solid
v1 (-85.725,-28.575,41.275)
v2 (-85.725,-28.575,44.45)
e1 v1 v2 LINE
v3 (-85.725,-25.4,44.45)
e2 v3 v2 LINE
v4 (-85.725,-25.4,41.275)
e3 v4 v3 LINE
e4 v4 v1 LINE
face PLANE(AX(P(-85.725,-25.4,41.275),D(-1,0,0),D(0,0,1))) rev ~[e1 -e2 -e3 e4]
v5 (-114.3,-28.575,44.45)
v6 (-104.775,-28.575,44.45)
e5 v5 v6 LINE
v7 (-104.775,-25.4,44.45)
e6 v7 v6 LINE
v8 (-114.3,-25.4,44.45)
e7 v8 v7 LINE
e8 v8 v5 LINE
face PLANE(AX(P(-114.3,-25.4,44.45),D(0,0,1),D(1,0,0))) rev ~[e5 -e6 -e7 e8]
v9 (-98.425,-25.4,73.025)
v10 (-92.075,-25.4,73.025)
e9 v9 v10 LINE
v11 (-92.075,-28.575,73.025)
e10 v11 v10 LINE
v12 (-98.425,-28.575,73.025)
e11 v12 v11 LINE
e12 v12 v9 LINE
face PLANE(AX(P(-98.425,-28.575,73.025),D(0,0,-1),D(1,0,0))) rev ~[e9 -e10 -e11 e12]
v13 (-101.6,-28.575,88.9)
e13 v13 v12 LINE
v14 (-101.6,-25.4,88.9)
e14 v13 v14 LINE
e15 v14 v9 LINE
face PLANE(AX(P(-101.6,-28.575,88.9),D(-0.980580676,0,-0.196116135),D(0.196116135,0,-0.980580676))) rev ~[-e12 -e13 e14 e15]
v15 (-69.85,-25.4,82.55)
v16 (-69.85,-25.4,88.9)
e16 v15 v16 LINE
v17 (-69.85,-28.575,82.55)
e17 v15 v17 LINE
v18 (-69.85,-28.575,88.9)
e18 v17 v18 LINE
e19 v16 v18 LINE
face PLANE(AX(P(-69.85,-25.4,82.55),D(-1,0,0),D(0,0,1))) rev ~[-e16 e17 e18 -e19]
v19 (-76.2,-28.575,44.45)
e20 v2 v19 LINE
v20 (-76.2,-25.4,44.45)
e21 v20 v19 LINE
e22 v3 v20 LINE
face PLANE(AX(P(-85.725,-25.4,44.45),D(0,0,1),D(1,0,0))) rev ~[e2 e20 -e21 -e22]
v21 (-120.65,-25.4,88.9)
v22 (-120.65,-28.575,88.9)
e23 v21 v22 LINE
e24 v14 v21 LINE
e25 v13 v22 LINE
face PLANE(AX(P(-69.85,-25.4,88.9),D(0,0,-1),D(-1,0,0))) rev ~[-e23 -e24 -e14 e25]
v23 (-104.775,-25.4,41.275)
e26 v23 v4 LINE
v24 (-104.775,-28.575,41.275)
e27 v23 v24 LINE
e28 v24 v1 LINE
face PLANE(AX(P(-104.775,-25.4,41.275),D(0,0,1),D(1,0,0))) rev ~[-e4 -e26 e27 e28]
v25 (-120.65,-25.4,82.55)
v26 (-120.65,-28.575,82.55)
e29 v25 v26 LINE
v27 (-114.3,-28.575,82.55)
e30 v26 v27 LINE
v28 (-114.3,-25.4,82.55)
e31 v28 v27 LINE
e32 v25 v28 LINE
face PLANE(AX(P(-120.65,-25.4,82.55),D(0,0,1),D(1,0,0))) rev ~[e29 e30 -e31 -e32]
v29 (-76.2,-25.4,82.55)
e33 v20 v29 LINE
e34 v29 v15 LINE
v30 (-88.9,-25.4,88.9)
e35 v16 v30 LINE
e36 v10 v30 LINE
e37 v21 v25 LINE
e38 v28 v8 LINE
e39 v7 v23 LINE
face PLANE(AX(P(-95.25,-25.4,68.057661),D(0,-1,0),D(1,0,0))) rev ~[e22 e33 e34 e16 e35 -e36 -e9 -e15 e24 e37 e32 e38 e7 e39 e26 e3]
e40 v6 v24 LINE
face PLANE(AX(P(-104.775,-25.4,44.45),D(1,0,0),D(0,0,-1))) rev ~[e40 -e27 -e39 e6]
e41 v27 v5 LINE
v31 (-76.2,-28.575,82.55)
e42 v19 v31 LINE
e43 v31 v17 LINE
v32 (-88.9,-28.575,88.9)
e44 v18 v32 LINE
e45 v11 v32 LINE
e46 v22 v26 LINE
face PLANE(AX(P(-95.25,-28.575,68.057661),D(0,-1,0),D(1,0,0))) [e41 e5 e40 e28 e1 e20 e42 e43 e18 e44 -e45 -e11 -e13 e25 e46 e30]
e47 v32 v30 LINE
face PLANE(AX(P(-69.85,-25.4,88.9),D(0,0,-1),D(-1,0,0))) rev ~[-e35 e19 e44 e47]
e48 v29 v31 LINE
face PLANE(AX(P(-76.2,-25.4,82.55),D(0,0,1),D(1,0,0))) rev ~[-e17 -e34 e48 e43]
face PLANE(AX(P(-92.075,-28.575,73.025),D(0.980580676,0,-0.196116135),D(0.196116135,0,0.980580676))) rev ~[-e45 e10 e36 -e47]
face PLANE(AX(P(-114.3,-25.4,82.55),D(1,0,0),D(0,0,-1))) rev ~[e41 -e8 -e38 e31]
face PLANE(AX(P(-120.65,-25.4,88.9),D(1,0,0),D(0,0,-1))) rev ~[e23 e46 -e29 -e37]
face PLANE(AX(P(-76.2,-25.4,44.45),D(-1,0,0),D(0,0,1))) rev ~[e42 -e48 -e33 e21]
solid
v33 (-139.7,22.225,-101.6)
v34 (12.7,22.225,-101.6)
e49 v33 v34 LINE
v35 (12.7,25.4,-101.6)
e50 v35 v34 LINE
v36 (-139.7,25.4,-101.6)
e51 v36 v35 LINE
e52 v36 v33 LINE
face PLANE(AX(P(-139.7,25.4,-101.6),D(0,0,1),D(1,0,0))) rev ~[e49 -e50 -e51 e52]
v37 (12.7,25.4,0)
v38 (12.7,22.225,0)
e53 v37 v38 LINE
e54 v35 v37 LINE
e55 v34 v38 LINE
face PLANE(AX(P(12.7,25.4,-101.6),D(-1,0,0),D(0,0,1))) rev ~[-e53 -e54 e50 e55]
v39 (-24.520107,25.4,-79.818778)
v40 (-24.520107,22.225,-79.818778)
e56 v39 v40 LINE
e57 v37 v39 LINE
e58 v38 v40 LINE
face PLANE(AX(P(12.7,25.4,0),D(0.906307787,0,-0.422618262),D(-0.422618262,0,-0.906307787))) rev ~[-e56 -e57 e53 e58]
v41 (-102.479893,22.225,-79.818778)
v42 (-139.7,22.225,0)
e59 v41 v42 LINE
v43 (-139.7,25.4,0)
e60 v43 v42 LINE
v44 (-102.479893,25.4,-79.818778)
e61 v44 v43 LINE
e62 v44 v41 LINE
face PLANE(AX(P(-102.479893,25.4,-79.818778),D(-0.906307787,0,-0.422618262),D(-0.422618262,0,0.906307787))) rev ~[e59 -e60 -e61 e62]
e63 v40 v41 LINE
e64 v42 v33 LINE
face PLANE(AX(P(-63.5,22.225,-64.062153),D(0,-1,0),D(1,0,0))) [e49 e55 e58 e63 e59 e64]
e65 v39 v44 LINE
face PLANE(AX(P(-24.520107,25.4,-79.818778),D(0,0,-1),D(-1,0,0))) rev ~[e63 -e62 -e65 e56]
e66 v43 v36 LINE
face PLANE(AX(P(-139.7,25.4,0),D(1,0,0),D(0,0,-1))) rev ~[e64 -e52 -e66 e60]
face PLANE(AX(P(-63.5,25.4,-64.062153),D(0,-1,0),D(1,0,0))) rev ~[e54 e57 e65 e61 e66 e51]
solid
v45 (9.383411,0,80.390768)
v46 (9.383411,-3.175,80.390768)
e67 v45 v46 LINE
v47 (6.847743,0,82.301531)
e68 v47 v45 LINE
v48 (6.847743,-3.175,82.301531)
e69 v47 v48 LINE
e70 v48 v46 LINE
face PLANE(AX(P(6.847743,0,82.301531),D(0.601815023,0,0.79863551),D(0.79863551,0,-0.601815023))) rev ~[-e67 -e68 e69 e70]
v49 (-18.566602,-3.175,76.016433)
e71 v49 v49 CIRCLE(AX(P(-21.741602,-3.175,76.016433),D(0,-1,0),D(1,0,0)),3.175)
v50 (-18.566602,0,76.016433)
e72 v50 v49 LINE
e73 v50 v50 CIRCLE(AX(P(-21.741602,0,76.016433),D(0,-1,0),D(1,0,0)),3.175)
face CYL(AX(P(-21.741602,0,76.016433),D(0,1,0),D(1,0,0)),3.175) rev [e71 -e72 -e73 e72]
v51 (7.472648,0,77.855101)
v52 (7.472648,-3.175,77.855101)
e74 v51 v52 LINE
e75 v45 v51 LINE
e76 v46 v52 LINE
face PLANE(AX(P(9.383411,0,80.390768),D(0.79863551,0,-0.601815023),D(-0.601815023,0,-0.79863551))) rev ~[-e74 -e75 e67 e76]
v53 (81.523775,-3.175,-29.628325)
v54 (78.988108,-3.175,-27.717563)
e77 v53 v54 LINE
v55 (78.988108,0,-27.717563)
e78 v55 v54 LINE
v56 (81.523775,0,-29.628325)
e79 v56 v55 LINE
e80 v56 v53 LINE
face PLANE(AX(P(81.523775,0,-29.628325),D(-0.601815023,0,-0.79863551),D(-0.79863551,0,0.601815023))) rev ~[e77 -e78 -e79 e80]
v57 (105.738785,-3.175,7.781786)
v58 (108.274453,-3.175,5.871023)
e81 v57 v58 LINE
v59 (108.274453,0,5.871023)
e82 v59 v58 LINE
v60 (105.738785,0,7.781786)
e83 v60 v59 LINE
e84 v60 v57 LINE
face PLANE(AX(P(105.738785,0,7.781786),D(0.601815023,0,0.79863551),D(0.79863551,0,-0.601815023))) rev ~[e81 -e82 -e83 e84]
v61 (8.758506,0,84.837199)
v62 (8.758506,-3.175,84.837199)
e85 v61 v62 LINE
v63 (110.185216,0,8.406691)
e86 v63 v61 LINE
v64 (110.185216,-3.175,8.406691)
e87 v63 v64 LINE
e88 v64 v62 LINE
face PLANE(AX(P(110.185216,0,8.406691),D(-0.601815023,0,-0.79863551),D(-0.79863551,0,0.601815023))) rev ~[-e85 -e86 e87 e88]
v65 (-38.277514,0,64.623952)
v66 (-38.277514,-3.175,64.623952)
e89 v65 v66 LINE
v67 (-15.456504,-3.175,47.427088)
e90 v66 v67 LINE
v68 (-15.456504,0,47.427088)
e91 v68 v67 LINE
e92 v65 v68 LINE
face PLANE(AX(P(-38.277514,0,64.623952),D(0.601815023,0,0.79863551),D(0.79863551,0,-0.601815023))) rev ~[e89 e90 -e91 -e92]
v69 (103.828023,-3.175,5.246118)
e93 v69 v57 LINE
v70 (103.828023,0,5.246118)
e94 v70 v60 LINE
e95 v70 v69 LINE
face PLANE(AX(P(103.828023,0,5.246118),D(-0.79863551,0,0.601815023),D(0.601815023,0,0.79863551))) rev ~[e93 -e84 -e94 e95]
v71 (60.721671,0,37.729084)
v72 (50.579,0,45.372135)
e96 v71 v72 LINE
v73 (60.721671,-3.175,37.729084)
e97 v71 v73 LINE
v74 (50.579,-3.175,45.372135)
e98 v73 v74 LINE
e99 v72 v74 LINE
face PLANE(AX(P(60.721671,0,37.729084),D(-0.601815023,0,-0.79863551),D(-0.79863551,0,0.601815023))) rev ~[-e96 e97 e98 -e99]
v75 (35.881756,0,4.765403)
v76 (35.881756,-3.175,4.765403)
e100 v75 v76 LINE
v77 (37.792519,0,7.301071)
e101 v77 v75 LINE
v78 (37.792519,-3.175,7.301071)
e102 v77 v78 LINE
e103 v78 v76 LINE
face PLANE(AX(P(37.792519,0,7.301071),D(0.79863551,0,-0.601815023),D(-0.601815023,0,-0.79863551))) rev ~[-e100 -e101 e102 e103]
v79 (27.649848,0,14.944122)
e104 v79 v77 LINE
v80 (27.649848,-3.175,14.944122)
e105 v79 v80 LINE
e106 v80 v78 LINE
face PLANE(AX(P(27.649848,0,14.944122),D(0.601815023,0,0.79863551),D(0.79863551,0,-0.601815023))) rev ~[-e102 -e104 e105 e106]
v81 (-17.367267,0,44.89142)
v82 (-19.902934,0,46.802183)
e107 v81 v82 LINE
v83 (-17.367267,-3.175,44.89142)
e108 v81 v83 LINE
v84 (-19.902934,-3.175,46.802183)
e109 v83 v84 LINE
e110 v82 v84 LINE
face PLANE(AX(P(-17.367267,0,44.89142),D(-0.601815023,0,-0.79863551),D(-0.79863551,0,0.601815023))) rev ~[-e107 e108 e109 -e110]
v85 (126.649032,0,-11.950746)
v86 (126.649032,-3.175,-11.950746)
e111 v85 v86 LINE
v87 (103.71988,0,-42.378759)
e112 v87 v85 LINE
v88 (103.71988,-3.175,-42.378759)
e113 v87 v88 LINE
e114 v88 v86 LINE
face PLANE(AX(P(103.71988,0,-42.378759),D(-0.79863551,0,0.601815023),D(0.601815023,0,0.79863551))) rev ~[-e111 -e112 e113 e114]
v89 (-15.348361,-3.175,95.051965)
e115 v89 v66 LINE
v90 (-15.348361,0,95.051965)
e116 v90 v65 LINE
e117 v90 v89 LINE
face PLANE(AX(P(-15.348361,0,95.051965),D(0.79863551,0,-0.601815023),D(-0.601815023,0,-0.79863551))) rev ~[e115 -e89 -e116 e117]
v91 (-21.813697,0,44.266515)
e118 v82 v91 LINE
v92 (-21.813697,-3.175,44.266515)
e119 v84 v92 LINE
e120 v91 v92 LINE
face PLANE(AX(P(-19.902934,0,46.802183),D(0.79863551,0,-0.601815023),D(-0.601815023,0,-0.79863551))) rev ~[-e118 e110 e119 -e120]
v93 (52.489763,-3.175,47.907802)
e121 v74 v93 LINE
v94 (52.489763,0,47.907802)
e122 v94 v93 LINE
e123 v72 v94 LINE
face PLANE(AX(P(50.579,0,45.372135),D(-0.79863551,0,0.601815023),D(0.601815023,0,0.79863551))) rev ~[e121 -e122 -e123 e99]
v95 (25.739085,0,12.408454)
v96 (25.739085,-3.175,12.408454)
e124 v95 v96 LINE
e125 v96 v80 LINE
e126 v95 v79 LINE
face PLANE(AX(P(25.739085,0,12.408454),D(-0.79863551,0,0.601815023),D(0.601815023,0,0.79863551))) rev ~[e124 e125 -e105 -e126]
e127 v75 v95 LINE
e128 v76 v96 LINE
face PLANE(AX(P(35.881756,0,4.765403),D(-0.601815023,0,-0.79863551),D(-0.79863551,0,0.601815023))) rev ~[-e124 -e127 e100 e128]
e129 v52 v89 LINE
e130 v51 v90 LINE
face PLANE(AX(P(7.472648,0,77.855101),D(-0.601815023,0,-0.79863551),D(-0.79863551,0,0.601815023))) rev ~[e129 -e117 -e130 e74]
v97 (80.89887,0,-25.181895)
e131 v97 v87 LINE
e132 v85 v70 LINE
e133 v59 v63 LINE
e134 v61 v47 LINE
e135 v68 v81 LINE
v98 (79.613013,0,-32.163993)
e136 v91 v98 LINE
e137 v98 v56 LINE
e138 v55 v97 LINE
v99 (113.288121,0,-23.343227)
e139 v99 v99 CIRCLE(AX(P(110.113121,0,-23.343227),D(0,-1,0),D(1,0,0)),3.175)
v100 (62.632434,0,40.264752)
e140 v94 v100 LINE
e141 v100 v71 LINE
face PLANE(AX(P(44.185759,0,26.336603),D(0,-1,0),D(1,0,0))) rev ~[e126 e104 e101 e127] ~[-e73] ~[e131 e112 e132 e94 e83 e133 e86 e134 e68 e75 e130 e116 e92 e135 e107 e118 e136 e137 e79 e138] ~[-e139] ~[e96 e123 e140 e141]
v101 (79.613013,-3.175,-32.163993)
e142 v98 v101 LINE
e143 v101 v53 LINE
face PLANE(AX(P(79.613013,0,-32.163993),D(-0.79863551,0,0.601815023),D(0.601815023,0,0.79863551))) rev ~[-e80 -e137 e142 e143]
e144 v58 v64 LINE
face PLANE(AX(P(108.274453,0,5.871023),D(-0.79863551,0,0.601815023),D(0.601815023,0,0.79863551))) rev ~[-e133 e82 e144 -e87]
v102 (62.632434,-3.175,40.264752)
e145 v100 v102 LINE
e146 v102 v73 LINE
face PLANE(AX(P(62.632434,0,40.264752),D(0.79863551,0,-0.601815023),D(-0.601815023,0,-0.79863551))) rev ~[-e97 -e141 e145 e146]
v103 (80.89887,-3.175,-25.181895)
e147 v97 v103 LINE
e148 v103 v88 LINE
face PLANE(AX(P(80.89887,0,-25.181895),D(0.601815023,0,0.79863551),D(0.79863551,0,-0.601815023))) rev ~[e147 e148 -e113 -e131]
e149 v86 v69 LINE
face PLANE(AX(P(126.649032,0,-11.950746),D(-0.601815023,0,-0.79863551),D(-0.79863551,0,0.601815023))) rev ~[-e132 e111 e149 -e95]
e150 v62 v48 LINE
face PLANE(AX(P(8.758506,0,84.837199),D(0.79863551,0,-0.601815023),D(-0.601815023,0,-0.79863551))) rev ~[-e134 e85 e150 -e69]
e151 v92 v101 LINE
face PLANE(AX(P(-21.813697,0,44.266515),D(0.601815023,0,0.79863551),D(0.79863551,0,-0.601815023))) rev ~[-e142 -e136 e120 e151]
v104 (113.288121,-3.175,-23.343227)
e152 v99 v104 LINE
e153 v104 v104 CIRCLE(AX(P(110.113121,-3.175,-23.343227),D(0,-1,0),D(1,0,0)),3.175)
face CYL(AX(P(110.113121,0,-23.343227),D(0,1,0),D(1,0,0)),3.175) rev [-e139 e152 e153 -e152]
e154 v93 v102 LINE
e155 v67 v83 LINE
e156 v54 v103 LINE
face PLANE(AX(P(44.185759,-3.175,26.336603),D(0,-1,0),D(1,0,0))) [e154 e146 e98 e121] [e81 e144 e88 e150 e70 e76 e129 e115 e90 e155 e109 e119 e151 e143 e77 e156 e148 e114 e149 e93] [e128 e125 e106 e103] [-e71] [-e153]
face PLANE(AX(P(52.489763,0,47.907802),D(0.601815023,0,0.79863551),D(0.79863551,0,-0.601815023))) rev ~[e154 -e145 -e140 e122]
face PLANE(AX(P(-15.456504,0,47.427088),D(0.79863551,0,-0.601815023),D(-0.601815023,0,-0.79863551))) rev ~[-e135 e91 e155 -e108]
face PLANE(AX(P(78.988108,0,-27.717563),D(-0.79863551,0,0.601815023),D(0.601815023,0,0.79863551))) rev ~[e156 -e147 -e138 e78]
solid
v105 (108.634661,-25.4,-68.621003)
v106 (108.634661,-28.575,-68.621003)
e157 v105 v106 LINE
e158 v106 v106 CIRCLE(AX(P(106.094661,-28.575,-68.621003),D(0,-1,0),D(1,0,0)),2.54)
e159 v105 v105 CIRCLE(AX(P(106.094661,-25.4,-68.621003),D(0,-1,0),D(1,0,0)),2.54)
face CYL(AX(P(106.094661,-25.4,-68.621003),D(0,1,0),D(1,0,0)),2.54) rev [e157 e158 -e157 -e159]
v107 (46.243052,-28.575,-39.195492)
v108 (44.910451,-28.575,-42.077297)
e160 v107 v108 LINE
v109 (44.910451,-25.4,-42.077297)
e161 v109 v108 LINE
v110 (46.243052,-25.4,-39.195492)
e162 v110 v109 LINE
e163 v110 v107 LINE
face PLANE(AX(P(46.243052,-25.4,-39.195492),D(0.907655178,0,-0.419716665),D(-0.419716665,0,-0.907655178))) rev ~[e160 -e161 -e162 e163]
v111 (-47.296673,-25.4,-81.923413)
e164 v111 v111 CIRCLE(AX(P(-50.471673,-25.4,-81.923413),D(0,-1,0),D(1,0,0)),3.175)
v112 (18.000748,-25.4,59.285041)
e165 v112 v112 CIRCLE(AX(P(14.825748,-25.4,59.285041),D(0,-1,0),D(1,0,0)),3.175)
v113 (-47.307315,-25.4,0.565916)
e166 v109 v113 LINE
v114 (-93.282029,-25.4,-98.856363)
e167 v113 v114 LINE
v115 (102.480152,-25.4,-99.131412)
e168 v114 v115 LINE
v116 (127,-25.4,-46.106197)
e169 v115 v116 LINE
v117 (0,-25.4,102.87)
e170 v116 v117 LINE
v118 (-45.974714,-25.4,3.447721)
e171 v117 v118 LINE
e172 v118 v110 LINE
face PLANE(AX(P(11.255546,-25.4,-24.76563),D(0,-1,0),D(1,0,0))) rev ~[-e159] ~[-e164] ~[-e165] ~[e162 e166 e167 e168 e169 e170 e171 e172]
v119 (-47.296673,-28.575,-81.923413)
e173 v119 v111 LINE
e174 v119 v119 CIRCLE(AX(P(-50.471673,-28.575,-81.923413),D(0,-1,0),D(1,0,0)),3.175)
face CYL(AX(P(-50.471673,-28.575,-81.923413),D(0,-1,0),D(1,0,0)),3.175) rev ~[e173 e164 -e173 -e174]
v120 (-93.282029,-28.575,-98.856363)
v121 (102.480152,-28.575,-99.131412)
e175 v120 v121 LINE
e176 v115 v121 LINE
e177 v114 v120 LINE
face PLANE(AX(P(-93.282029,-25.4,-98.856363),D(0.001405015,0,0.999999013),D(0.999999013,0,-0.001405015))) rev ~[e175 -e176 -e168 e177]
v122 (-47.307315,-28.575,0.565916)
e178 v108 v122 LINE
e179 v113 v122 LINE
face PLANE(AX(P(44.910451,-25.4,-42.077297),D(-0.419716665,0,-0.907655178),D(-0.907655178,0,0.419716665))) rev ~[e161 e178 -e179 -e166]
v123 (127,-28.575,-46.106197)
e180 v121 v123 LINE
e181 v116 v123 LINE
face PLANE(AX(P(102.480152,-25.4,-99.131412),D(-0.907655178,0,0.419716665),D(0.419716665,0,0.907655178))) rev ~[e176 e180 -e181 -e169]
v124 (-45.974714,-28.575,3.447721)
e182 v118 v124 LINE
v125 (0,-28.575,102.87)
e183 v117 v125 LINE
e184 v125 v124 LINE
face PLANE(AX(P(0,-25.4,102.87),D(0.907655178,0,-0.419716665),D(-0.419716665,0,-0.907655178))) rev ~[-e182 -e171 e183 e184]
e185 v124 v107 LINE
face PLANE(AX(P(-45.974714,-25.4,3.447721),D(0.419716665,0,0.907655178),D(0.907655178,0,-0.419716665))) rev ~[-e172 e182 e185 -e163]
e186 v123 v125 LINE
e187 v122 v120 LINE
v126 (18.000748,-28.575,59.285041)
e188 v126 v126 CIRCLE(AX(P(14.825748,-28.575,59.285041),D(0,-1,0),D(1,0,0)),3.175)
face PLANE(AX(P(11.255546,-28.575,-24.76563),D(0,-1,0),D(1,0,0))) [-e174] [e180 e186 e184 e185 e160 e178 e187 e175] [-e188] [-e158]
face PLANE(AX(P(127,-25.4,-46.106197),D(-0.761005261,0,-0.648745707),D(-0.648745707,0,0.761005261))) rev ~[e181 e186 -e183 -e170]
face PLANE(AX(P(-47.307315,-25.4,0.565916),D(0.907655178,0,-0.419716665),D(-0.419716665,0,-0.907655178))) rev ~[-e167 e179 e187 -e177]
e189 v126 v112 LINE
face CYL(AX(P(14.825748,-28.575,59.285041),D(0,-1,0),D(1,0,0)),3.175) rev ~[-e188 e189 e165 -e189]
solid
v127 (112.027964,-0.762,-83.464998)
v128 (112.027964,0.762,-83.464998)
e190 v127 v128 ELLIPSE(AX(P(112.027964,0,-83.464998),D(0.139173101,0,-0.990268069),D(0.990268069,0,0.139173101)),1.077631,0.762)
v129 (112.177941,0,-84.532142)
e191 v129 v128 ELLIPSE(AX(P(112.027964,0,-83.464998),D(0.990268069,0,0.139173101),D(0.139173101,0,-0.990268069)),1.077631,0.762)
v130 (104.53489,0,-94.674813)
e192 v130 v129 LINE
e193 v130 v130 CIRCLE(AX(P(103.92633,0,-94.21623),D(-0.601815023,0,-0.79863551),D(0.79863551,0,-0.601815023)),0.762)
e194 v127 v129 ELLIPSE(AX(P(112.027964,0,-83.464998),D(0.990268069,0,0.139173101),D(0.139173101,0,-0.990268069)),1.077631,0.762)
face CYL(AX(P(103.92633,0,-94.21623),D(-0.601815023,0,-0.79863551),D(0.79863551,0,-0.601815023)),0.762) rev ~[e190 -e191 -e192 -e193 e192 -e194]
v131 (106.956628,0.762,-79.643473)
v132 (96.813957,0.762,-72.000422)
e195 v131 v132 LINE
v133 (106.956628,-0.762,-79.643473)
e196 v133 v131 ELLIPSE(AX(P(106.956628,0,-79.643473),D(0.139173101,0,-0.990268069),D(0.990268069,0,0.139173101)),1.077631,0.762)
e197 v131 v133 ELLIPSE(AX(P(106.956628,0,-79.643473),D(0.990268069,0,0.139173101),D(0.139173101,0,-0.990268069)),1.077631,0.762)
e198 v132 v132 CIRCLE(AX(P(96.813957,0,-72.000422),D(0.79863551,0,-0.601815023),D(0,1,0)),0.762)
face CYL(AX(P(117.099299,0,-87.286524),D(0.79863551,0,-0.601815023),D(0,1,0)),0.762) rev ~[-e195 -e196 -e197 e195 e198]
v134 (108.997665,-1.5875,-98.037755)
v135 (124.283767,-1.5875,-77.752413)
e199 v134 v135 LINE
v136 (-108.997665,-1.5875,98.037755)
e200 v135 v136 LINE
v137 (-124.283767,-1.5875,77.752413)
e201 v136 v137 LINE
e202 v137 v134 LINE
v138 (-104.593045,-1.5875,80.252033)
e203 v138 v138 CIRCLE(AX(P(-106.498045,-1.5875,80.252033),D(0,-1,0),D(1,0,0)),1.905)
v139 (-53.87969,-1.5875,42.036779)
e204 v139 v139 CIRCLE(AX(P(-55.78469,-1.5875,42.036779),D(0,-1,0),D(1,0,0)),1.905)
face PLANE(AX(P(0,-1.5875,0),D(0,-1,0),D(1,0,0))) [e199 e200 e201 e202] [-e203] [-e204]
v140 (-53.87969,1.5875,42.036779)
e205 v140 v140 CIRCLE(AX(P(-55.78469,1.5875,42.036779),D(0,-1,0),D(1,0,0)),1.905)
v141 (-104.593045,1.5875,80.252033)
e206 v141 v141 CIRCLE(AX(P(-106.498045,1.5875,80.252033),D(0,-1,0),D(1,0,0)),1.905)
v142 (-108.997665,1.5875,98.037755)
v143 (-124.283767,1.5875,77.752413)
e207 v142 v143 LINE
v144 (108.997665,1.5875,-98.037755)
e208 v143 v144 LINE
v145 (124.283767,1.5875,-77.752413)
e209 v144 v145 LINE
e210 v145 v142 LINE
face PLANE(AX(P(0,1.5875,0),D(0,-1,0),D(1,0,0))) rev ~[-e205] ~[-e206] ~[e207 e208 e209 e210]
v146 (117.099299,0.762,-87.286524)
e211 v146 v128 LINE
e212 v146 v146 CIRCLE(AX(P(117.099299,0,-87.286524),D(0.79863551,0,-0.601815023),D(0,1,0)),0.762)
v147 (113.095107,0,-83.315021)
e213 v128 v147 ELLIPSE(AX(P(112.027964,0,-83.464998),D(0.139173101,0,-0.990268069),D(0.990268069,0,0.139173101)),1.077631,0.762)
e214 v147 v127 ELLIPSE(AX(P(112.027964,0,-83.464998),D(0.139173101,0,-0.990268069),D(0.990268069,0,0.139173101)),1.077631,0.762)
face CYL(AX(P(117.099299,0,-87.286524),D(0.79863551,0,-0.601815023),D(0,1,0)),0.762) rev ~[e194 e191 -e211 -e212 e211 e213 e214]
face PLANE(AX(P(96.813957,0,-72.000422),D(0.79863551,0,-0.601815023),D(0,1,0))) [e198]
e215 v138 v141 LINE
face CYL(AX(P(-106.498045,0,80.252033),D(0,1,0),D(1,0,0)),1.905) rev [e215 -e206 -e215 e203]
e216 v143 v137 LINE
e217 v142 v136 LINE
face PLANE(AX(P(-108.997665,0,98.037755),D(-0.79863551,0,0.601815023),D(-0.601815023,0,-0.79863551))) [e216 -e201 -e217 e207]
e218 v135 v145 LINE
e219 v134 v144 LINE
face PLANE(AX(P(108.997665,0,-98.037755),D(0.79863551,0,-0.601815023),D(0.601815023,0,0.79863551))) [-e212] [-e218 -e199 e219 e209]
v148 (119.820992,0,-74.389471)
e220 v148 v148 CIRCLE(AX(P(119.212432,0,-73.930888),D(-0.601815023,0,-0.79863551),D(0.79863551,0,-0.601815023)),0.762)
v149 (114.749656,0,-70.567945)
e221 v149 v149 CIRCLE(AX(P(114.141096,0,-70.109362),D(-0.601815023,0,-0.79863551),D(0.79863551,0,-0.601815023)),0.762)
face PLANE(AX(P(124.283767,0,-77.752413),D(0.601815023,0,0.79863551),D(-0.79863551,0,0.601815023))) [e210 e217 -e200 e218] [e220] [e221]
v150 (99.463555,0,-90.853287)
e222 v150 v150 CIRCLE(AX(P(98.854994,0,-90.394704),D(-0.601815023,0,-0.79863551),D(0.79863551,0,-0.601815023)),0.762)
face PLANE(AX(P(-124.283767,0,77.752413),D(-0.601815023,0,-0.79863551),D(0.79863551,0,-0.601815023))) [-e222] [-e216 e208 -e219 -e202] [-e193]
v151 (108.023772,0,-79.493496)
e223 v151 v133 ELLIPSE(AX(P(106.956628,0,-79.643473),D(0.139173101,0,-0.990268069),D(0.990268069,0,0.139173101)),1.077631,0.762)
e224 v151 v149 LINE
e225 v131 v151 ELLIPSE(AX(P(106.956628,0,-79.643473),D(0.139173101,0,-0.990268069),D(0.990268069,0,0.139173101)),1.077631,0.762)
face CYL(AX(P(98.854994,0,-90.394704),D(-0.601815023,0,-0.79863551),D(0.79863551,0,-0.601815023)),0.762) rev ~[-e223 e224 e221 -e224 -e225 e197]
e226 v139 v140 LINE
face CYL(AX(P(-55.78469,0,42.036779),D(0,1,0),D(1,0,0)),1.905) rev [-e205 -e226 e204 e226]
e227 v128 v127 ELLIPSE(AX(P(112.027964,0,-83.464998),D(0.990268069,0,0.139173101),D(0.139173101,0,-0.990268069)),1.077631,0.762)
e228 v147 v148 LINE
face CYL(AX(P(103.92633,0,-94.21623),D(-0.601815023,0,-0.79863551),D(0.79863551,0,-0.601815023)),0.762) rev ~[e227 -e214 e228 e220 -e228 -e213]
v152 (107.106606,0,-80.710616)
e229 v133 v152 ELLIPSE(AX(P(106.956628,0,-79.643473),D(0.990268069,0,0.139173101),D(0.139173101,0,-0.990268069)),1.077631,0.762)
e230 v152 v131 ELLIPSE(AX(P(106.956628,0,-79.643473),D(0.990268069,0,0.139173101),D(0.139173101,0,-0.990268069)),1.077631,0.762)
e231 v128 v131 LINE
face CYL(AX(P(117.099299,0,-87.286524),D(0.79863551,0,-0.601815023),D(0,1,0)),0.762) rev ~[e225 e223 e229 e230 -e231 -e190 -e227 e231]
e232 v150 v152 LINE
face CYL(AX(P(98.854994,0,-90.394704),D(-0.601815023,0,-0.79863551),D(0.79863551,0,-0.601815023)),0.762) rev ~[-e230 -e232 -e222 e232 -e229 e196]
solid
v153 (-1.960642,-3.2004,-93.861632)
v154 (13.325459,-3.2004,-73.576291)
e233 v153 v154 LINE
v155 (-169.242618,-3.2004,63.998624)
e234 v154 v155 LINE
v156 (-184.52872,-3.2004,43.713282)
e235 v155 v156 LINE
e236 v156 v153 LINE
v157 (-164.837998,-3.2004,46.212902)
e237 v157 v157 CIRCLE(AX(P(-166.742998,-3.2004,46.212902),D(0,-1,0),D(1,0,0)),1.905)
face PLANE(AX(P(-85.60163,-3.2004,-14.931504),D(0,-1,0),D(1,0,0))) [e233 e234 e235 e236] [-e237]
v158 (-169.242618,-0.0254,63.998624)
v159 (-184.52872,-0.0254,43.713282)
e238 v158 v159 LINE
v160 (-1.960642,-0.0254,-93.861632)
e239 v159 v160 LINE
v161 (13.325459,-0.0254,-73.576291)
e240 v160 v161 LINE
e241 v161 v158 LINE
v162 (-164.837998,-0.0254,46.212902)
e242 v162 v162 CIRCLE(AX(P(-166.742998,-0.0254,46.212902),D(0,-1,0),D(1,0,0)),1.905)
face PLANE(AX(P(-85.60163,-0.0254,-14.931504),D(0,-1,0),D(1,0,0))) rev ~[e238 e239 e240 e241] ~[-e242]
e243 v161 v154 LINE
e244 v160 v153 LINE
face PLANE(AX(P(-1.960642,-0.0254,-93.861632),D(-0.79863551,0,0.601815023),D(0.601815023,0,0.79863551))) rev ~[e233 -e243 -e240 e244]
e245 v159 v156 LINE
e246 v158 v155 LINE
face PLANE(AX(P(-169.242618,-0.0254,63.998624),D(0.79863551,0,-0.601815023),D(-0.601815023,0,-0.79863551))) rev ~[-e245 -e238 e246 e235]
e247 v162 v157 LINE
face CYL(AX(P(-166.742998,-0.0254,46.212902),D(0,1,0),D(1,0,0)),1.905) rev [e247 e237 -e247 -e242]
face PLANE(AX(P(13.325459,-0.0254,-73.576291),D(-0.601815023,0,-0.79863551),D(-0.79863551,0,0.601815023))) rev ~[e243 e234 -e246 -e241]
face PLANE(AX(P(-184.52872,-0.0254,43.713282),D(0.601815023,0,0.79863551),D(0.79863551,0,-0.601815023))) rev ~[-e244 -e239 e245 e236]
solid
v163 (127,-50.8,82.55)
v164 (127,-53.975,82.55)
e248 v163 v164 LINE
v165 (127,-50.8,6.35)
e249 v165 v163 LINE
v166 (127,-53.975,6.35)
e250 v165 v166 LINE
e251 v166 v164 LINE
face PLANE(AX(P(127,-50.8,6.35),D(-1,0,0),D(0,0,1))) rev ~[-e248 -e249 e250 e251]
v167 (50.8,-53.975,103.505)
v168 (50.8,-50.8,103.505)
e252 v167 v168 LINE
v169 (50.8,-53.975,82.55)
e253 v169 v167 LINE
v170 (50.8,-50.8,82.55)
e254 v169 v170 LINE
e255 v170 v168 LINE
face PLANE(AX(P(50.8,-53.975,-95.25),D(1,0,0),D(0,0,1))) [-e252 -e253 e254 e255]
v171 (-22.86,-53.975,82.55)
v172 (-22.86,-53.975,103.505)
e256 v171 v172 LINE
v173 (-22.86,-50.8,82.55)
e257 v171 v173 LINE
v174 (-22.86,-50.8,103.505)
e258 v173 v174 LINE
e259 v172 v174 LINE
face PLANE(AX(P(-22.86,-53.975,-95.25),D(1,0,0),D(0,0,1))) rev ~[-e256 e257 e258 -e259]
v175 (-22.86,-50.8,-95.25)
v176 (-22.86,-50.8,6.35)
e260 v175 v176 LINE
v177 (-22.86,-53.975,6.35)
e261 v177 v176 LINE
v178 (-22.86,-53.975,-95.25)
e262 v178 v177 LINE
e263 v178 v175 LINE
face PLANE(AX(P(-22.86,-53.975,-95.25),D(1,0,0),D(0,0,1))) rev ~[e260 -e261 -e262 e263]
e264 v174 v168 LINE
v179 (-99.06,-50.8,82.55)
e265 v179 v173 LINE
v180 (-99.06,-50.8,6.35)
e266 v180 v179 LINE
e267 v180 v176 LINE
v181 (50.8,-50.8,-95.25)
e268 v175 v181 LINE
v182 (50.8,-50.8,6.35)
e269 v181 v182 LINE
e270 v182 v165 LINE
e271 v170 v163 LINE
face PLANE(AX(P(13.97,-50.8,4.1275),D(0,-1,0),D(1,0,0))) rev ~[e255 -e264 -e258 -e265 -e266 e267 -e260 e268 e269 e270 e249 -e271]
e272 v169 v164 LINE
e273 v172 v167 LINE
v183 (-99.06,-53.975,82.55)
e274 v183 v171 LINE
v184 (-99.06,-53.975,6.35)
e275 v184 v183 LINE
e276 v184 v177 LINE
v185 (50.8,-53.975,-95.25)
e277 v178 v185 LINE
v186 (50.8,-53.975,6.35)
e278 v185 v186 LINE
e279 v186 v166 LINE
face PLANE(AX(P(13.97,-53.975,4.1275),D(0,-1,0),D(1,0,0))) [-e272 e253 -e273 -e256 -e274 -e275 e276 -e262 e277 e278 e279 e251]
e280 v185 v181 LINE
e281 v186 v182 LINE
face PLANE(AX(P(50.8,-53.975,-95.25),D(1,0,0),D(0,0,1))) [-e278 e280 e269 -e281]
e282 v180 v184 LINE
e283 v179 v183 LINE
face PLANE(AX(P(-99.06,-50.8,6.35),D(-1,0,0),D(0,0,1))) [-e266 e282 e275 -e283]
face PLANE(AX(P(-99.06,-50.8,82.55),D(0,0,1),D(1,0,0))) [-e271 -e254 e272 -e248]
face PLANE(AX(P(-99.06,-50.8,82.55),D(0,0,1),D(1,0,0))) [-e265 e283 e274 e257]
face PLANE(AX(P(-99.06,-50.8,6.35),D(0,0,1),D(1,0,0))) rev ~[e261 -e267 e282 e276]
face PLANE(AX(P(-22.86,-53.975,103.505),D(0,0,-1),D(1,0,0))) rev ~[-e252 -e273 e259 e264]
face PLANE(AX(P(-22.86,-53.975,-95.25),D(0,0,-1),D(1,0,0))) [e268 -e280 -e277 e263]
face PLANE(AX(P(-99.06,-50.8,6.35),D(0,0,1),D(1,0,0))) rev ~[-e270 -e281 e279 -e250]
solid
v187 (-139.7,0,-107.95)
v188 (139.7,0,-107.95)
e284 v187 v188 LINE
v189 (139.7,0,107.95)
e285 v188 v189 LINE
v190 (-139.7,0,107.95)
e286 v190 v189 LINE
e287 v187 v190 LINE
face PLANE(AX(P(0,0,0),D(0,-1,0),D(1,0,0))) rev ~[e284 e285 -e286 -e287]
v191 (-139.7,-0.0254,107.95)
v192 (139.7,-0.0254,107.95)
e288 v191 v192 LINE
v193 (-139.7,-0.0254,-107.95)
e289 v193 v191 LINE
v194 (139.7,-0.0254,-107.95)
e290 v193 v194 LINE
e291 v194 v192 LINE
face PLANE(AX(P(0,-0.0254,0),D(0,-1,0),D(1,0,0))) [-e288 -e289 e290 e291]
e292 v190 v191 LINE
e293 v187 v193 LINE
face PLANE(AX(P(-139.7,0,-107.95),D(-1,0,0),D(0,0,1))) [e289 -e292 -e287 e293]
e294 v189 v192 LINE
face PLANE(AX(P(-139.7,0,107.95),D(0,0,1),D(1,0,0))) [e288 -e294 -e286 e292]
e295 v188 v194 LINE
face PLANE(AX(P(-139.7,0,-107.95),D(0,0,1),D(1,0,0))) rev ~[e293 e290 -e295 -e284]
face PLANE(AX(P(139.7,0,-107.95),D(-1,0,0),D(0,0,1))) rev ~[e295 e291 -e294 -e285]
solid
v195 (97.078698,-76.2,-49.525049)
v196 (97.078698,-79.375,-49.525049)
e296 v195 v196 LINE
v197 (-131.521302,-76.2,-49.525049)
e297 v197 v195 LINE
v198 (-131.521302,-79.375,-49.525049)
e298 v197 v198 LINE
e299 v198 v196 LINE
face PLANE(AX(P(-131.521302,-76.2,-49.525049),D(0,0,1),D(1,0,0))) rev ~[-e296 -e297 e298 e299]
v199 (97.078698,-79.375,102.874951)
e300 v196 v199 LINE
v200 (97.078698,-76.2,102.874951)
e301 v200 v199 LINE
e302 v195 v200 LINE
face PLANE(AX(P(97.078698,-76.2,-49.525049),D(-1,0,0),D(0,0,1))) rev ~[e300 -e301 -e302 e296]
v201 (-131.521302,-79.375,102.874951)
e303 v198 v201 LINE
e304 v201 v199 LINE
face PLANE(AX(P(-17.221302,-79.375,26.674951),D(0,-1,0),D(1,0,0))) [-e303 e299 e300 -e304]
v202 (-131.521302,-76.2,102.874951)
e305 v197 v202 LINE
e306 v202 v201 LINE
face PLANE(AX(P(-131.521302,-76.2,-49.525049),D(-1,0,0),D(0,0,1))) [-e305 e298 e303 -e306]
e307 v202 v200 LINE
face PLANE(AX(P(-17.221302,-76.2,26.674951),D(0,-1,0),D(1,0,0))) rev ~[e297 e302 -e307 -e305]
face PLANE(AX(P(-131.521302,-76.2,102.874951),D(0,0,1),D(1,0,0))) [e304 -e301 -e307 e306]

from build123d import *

# Parameters (mm, degrees)
F1_R      = 1.905
F2_DEPTH  = 1.5875
F4_R      = 2.54
F5_DEPTH  = 3.175
F7_DEPTH  = 3.175
F8_R      = 3.175
F9_DEPTH  = 3.175
F12_DEPTH = 3.175
F14_W     = 226.06
F14_H     = 76.2
F15_DEPTH = 3.175
F17_DEPTH = 53.976
F19_W     = 228.6
F19_H     = 152.4
F20_DEPTH = 3.175
F21_W     = 73.66
F21_H     = 198.755
F22_DEPTH = 3.175
F23_R     = 3.175
F24_DEPTH = 53.976
F0_W      = 279.4
F0_H      = 215.9
F25_DEPTH = 0.0254
F26_R     = 1.905
F27_DEPTH = 3.175
F28_R     = 0.762
F29_DEPTH = 25.4
F30_R     = 0.762
F31_DEPTH = 182.9872620439


with BuildPart() as f2:
    # F1 (on Front) → F2 (new body, symmetric)
    with BuildSketch(Plane.XZ):
        Polygon((124.2837670364, -77.7524131538), (-108.9976654484, 98.037755109), (-124.2837670364, 77.7524131538), (108.9976654484, -98.037755109), align=None)
        with Locations((-55.7846903768, 42.0367793672)):
            Circle(F1_R, mode=Mode.SUBTRACT)
        with Locations((-106.4980452648, 80.2520333373)):
            Circle(F1_R, mode=Mode.SUBTRACT)
    extrude(amount=F2_DEPTH, both=True)

    # F28 (on face) → F29 (cut)
    with BuildSketch(Plane(origin=(116.6407162424, 0, -87.8950841314), x_dir=(0, 1, 0), z_dir=(0.79863551, 0, -0.6018150232))):
        with Locations((0, 0.762)):
            Circle(F28_R)
    extrude(amount=-F29_DEPTH, mode=Mode.SUBTRACT)

    # F30 (on face) → F31 (cut, through all)
    with BuildSketch(Plane(origin=(-7.643050794, 0, -10.1426709776), x_dir=(0.79863551, 0, -0.6018150232), z_dir=(-0.6018150232, 0, -0.79863551))):
        with Locations((139.7, 0)):
            Circle(F30_R)
        with Locations((133.35, 0)):
            Circle(F30_R)
    extrude(amount=-F31_DEPTH, mode=Mode.SUBTRACT)


with BuildPart() as f5:
    # F4 (on offset) → F5 (new body)
    with BuildSketch(Plane.XZ.offset(25.4)):
        Polygon((127, -46.1061968403), (0, 102.87), (-45.9747141485, 3.4477209816), (46.2430518976, -39.1954921416), (44.9104514875, -42.0772973306), (-47.3073145586, 0.5659157926), (-93.2820287071, -98.8563632258), (102.4801524541, -99.1314123168), align=None)
        with Locations((106.0946606603, -68.6210033482)):
            Circle(F4_R, mode=Mode.SUBTRACT)
    extrude(amount=F5_DEPTH)

    # F23 (on face) → F24 (cut, through all)
    with BuildSketch(Plane.XZ.offset(28.575)):
        with Locations((-50.4716725116, -81.9234128429)):
            Circle(F23_R)
        with Locations((14.8257475833, 59.2850414151)):
            Circle(F23_R)
    extrude(amount=-F24_DEPTH, mode=Mode.SUBTRACT)


with BuildPart() as f7:
    # F6 (on offset) → F7 (new body)
    with BuildSketch(Plane.XZ.offset(25.4)):
        Polygon((-69.85, 88.9), (-120.65, 88.9), (-120.65, 82.55), (-114.3, 82.55), (-114.3, 44.45), (-104.775, 44.45), (-104.775, 41.275), (-85.725, 41.275), (-85.725, 44.45), (-76.2, 44.45), (-76.2, 82.55), (-69.85, 82.55), align=None)
    extrude(amount=F7_DEPTH)

    # F16 (on face) → F17 (cut, through all)
    with BuildSketch(Plane.XZ.offset(28.575)):
        Polygon((-95.25, 88.9), (-101.6, 88.9), (-98.425, 73.025), (-95.25, 73.025), (-92.075, 73.025), (-88.9, 88.9), align=None)
    extrude(amount=-F17_DEPTH, mode=Mode.SUBTRACT)


with BuildPart() as f9:
    # F8 (on Front) → F9 (new body)
    with BuildSketch(Plane.XZ):
        Polygon((-19.9029344652, 46.8021825923), (-21.8136971637, 44.2665148479), (79.6130126123, -32.1639930924), (81.5237753108, -29.628325348), (78.9881075664, -27.7175626495), (80.8988702649, -25.1818949051), (103.7198799645, -42.3787591916), (126.6490323466, -11.9507462588), (103.828022647, 5.2461180277), (105.7387853455, 7.7817857721), (108.2744530899, 5.8710230736), (110.1852157884, 8.406690818), (8.7585060124, 84.8371987583), (6.8477433139, 82.3015310139), (9.3834110583, 80.3907683154), (7.4726483598, 77.855100571), (-15.3483613398, 95.0519648576), (-38.2775137219, 64.6239519248), (-15.4565040223, 47.4270876382), (-17.3672667208, 44.8914198938), align=None)
        Polygon((27.6498476325, 14.9441217636), (37.7925186101, 7.3010709696), (35.8817559116, 4.7654032252), (25.739084934, 12.4084540192), align=None, mode=Mode.SUBTRACT)
        with Locations((110.1131206668, -23.3432273282)):
            Circle(F8_R, mode=Mode.SUBTRACT)
        with Locations((-21.741602042, 76.0164329942)):
            Circle(F8_R, mode=Mode.SUBTRACT)
        Polygon((50.5790000146, 45.3721346964), (52.4897627131, 47.9078024408), (62.6324336907, 40.2647516468), (60.7216709922, 37.7290839024), align=None, mode=Mode.SUBTRACT)
    extrude(amount=F9_DEPTH)


with BuildPart() as f12:
    # F11 (on offset) → F12 (new body)
    with BuildSketch(Plane.XZ.offset(-25.4)):
        Polygon((-139.7, -101.6), (12.7, -101.6), (12.7, 0), (-24.5201073247, -79.81877774), (-102.4798926753, -79.81877774), (-139.7, 0), align=None)
    extrude(amount=F12_DEPTH)


with BuildPart() as f15:
    # F14 (on offset) → F15 (new body)
    with BuildSketch(Plane.XZ.offset(50.8)):
        with Locations((13.97, 44.45)):
            Rectangle(F14_W, F14_H)
    extrude(amount=F15_DEPTH)

    # F21 (on face) → F22 (join)
    with BuildSketch(Plane.XZ.offset(53.975)):
        with Locations((13.97, 4.1275)):
            Rectangle(F21_W, F21_H)
    extrude(amount=-F22_DEPTH)


with BuildPart() as f20:
    # F19 (on offset) → F20 (new body)
    with BuildSketch(Plane.XZ.offset(76.2)):
        with Locations((-17.2213017941, 26.6749513012)):
            Rectangle(F19_W, F19_H)
    extrude(amount=F20_DEPTH)


with BuildPart() as f25:
    # F0 (on Front) → F25 (new body)
    with BuildSketch(Plane.XZ):
        Rectangle(F0_W, F0_H)
    extrude(amount=F25_DEPTH)


with BuildPart() as f27:
    # F26 (on face) → F27 (new body)
    with BuildSketch(Plane.XZ.offset(0.0254)):
        Polygon((13.3254593266, -73.5762905356), (-169.2426182702, 63.998623757), (-184.5287198583, 43.7132818017), (-1.9606422615, -93.8616324908), align=None)
        with Locations((-166.7429980867, 46.2129019853)):
            Circle(F26_R, mode=Mode.SUBTRACT)
    extrude(amount=F27_DEPTH)


solid = Compound([f2.part, f5.part, f7.part, f9.part, f12.part, f15.part, f20.part, f25.part, f27.part])
